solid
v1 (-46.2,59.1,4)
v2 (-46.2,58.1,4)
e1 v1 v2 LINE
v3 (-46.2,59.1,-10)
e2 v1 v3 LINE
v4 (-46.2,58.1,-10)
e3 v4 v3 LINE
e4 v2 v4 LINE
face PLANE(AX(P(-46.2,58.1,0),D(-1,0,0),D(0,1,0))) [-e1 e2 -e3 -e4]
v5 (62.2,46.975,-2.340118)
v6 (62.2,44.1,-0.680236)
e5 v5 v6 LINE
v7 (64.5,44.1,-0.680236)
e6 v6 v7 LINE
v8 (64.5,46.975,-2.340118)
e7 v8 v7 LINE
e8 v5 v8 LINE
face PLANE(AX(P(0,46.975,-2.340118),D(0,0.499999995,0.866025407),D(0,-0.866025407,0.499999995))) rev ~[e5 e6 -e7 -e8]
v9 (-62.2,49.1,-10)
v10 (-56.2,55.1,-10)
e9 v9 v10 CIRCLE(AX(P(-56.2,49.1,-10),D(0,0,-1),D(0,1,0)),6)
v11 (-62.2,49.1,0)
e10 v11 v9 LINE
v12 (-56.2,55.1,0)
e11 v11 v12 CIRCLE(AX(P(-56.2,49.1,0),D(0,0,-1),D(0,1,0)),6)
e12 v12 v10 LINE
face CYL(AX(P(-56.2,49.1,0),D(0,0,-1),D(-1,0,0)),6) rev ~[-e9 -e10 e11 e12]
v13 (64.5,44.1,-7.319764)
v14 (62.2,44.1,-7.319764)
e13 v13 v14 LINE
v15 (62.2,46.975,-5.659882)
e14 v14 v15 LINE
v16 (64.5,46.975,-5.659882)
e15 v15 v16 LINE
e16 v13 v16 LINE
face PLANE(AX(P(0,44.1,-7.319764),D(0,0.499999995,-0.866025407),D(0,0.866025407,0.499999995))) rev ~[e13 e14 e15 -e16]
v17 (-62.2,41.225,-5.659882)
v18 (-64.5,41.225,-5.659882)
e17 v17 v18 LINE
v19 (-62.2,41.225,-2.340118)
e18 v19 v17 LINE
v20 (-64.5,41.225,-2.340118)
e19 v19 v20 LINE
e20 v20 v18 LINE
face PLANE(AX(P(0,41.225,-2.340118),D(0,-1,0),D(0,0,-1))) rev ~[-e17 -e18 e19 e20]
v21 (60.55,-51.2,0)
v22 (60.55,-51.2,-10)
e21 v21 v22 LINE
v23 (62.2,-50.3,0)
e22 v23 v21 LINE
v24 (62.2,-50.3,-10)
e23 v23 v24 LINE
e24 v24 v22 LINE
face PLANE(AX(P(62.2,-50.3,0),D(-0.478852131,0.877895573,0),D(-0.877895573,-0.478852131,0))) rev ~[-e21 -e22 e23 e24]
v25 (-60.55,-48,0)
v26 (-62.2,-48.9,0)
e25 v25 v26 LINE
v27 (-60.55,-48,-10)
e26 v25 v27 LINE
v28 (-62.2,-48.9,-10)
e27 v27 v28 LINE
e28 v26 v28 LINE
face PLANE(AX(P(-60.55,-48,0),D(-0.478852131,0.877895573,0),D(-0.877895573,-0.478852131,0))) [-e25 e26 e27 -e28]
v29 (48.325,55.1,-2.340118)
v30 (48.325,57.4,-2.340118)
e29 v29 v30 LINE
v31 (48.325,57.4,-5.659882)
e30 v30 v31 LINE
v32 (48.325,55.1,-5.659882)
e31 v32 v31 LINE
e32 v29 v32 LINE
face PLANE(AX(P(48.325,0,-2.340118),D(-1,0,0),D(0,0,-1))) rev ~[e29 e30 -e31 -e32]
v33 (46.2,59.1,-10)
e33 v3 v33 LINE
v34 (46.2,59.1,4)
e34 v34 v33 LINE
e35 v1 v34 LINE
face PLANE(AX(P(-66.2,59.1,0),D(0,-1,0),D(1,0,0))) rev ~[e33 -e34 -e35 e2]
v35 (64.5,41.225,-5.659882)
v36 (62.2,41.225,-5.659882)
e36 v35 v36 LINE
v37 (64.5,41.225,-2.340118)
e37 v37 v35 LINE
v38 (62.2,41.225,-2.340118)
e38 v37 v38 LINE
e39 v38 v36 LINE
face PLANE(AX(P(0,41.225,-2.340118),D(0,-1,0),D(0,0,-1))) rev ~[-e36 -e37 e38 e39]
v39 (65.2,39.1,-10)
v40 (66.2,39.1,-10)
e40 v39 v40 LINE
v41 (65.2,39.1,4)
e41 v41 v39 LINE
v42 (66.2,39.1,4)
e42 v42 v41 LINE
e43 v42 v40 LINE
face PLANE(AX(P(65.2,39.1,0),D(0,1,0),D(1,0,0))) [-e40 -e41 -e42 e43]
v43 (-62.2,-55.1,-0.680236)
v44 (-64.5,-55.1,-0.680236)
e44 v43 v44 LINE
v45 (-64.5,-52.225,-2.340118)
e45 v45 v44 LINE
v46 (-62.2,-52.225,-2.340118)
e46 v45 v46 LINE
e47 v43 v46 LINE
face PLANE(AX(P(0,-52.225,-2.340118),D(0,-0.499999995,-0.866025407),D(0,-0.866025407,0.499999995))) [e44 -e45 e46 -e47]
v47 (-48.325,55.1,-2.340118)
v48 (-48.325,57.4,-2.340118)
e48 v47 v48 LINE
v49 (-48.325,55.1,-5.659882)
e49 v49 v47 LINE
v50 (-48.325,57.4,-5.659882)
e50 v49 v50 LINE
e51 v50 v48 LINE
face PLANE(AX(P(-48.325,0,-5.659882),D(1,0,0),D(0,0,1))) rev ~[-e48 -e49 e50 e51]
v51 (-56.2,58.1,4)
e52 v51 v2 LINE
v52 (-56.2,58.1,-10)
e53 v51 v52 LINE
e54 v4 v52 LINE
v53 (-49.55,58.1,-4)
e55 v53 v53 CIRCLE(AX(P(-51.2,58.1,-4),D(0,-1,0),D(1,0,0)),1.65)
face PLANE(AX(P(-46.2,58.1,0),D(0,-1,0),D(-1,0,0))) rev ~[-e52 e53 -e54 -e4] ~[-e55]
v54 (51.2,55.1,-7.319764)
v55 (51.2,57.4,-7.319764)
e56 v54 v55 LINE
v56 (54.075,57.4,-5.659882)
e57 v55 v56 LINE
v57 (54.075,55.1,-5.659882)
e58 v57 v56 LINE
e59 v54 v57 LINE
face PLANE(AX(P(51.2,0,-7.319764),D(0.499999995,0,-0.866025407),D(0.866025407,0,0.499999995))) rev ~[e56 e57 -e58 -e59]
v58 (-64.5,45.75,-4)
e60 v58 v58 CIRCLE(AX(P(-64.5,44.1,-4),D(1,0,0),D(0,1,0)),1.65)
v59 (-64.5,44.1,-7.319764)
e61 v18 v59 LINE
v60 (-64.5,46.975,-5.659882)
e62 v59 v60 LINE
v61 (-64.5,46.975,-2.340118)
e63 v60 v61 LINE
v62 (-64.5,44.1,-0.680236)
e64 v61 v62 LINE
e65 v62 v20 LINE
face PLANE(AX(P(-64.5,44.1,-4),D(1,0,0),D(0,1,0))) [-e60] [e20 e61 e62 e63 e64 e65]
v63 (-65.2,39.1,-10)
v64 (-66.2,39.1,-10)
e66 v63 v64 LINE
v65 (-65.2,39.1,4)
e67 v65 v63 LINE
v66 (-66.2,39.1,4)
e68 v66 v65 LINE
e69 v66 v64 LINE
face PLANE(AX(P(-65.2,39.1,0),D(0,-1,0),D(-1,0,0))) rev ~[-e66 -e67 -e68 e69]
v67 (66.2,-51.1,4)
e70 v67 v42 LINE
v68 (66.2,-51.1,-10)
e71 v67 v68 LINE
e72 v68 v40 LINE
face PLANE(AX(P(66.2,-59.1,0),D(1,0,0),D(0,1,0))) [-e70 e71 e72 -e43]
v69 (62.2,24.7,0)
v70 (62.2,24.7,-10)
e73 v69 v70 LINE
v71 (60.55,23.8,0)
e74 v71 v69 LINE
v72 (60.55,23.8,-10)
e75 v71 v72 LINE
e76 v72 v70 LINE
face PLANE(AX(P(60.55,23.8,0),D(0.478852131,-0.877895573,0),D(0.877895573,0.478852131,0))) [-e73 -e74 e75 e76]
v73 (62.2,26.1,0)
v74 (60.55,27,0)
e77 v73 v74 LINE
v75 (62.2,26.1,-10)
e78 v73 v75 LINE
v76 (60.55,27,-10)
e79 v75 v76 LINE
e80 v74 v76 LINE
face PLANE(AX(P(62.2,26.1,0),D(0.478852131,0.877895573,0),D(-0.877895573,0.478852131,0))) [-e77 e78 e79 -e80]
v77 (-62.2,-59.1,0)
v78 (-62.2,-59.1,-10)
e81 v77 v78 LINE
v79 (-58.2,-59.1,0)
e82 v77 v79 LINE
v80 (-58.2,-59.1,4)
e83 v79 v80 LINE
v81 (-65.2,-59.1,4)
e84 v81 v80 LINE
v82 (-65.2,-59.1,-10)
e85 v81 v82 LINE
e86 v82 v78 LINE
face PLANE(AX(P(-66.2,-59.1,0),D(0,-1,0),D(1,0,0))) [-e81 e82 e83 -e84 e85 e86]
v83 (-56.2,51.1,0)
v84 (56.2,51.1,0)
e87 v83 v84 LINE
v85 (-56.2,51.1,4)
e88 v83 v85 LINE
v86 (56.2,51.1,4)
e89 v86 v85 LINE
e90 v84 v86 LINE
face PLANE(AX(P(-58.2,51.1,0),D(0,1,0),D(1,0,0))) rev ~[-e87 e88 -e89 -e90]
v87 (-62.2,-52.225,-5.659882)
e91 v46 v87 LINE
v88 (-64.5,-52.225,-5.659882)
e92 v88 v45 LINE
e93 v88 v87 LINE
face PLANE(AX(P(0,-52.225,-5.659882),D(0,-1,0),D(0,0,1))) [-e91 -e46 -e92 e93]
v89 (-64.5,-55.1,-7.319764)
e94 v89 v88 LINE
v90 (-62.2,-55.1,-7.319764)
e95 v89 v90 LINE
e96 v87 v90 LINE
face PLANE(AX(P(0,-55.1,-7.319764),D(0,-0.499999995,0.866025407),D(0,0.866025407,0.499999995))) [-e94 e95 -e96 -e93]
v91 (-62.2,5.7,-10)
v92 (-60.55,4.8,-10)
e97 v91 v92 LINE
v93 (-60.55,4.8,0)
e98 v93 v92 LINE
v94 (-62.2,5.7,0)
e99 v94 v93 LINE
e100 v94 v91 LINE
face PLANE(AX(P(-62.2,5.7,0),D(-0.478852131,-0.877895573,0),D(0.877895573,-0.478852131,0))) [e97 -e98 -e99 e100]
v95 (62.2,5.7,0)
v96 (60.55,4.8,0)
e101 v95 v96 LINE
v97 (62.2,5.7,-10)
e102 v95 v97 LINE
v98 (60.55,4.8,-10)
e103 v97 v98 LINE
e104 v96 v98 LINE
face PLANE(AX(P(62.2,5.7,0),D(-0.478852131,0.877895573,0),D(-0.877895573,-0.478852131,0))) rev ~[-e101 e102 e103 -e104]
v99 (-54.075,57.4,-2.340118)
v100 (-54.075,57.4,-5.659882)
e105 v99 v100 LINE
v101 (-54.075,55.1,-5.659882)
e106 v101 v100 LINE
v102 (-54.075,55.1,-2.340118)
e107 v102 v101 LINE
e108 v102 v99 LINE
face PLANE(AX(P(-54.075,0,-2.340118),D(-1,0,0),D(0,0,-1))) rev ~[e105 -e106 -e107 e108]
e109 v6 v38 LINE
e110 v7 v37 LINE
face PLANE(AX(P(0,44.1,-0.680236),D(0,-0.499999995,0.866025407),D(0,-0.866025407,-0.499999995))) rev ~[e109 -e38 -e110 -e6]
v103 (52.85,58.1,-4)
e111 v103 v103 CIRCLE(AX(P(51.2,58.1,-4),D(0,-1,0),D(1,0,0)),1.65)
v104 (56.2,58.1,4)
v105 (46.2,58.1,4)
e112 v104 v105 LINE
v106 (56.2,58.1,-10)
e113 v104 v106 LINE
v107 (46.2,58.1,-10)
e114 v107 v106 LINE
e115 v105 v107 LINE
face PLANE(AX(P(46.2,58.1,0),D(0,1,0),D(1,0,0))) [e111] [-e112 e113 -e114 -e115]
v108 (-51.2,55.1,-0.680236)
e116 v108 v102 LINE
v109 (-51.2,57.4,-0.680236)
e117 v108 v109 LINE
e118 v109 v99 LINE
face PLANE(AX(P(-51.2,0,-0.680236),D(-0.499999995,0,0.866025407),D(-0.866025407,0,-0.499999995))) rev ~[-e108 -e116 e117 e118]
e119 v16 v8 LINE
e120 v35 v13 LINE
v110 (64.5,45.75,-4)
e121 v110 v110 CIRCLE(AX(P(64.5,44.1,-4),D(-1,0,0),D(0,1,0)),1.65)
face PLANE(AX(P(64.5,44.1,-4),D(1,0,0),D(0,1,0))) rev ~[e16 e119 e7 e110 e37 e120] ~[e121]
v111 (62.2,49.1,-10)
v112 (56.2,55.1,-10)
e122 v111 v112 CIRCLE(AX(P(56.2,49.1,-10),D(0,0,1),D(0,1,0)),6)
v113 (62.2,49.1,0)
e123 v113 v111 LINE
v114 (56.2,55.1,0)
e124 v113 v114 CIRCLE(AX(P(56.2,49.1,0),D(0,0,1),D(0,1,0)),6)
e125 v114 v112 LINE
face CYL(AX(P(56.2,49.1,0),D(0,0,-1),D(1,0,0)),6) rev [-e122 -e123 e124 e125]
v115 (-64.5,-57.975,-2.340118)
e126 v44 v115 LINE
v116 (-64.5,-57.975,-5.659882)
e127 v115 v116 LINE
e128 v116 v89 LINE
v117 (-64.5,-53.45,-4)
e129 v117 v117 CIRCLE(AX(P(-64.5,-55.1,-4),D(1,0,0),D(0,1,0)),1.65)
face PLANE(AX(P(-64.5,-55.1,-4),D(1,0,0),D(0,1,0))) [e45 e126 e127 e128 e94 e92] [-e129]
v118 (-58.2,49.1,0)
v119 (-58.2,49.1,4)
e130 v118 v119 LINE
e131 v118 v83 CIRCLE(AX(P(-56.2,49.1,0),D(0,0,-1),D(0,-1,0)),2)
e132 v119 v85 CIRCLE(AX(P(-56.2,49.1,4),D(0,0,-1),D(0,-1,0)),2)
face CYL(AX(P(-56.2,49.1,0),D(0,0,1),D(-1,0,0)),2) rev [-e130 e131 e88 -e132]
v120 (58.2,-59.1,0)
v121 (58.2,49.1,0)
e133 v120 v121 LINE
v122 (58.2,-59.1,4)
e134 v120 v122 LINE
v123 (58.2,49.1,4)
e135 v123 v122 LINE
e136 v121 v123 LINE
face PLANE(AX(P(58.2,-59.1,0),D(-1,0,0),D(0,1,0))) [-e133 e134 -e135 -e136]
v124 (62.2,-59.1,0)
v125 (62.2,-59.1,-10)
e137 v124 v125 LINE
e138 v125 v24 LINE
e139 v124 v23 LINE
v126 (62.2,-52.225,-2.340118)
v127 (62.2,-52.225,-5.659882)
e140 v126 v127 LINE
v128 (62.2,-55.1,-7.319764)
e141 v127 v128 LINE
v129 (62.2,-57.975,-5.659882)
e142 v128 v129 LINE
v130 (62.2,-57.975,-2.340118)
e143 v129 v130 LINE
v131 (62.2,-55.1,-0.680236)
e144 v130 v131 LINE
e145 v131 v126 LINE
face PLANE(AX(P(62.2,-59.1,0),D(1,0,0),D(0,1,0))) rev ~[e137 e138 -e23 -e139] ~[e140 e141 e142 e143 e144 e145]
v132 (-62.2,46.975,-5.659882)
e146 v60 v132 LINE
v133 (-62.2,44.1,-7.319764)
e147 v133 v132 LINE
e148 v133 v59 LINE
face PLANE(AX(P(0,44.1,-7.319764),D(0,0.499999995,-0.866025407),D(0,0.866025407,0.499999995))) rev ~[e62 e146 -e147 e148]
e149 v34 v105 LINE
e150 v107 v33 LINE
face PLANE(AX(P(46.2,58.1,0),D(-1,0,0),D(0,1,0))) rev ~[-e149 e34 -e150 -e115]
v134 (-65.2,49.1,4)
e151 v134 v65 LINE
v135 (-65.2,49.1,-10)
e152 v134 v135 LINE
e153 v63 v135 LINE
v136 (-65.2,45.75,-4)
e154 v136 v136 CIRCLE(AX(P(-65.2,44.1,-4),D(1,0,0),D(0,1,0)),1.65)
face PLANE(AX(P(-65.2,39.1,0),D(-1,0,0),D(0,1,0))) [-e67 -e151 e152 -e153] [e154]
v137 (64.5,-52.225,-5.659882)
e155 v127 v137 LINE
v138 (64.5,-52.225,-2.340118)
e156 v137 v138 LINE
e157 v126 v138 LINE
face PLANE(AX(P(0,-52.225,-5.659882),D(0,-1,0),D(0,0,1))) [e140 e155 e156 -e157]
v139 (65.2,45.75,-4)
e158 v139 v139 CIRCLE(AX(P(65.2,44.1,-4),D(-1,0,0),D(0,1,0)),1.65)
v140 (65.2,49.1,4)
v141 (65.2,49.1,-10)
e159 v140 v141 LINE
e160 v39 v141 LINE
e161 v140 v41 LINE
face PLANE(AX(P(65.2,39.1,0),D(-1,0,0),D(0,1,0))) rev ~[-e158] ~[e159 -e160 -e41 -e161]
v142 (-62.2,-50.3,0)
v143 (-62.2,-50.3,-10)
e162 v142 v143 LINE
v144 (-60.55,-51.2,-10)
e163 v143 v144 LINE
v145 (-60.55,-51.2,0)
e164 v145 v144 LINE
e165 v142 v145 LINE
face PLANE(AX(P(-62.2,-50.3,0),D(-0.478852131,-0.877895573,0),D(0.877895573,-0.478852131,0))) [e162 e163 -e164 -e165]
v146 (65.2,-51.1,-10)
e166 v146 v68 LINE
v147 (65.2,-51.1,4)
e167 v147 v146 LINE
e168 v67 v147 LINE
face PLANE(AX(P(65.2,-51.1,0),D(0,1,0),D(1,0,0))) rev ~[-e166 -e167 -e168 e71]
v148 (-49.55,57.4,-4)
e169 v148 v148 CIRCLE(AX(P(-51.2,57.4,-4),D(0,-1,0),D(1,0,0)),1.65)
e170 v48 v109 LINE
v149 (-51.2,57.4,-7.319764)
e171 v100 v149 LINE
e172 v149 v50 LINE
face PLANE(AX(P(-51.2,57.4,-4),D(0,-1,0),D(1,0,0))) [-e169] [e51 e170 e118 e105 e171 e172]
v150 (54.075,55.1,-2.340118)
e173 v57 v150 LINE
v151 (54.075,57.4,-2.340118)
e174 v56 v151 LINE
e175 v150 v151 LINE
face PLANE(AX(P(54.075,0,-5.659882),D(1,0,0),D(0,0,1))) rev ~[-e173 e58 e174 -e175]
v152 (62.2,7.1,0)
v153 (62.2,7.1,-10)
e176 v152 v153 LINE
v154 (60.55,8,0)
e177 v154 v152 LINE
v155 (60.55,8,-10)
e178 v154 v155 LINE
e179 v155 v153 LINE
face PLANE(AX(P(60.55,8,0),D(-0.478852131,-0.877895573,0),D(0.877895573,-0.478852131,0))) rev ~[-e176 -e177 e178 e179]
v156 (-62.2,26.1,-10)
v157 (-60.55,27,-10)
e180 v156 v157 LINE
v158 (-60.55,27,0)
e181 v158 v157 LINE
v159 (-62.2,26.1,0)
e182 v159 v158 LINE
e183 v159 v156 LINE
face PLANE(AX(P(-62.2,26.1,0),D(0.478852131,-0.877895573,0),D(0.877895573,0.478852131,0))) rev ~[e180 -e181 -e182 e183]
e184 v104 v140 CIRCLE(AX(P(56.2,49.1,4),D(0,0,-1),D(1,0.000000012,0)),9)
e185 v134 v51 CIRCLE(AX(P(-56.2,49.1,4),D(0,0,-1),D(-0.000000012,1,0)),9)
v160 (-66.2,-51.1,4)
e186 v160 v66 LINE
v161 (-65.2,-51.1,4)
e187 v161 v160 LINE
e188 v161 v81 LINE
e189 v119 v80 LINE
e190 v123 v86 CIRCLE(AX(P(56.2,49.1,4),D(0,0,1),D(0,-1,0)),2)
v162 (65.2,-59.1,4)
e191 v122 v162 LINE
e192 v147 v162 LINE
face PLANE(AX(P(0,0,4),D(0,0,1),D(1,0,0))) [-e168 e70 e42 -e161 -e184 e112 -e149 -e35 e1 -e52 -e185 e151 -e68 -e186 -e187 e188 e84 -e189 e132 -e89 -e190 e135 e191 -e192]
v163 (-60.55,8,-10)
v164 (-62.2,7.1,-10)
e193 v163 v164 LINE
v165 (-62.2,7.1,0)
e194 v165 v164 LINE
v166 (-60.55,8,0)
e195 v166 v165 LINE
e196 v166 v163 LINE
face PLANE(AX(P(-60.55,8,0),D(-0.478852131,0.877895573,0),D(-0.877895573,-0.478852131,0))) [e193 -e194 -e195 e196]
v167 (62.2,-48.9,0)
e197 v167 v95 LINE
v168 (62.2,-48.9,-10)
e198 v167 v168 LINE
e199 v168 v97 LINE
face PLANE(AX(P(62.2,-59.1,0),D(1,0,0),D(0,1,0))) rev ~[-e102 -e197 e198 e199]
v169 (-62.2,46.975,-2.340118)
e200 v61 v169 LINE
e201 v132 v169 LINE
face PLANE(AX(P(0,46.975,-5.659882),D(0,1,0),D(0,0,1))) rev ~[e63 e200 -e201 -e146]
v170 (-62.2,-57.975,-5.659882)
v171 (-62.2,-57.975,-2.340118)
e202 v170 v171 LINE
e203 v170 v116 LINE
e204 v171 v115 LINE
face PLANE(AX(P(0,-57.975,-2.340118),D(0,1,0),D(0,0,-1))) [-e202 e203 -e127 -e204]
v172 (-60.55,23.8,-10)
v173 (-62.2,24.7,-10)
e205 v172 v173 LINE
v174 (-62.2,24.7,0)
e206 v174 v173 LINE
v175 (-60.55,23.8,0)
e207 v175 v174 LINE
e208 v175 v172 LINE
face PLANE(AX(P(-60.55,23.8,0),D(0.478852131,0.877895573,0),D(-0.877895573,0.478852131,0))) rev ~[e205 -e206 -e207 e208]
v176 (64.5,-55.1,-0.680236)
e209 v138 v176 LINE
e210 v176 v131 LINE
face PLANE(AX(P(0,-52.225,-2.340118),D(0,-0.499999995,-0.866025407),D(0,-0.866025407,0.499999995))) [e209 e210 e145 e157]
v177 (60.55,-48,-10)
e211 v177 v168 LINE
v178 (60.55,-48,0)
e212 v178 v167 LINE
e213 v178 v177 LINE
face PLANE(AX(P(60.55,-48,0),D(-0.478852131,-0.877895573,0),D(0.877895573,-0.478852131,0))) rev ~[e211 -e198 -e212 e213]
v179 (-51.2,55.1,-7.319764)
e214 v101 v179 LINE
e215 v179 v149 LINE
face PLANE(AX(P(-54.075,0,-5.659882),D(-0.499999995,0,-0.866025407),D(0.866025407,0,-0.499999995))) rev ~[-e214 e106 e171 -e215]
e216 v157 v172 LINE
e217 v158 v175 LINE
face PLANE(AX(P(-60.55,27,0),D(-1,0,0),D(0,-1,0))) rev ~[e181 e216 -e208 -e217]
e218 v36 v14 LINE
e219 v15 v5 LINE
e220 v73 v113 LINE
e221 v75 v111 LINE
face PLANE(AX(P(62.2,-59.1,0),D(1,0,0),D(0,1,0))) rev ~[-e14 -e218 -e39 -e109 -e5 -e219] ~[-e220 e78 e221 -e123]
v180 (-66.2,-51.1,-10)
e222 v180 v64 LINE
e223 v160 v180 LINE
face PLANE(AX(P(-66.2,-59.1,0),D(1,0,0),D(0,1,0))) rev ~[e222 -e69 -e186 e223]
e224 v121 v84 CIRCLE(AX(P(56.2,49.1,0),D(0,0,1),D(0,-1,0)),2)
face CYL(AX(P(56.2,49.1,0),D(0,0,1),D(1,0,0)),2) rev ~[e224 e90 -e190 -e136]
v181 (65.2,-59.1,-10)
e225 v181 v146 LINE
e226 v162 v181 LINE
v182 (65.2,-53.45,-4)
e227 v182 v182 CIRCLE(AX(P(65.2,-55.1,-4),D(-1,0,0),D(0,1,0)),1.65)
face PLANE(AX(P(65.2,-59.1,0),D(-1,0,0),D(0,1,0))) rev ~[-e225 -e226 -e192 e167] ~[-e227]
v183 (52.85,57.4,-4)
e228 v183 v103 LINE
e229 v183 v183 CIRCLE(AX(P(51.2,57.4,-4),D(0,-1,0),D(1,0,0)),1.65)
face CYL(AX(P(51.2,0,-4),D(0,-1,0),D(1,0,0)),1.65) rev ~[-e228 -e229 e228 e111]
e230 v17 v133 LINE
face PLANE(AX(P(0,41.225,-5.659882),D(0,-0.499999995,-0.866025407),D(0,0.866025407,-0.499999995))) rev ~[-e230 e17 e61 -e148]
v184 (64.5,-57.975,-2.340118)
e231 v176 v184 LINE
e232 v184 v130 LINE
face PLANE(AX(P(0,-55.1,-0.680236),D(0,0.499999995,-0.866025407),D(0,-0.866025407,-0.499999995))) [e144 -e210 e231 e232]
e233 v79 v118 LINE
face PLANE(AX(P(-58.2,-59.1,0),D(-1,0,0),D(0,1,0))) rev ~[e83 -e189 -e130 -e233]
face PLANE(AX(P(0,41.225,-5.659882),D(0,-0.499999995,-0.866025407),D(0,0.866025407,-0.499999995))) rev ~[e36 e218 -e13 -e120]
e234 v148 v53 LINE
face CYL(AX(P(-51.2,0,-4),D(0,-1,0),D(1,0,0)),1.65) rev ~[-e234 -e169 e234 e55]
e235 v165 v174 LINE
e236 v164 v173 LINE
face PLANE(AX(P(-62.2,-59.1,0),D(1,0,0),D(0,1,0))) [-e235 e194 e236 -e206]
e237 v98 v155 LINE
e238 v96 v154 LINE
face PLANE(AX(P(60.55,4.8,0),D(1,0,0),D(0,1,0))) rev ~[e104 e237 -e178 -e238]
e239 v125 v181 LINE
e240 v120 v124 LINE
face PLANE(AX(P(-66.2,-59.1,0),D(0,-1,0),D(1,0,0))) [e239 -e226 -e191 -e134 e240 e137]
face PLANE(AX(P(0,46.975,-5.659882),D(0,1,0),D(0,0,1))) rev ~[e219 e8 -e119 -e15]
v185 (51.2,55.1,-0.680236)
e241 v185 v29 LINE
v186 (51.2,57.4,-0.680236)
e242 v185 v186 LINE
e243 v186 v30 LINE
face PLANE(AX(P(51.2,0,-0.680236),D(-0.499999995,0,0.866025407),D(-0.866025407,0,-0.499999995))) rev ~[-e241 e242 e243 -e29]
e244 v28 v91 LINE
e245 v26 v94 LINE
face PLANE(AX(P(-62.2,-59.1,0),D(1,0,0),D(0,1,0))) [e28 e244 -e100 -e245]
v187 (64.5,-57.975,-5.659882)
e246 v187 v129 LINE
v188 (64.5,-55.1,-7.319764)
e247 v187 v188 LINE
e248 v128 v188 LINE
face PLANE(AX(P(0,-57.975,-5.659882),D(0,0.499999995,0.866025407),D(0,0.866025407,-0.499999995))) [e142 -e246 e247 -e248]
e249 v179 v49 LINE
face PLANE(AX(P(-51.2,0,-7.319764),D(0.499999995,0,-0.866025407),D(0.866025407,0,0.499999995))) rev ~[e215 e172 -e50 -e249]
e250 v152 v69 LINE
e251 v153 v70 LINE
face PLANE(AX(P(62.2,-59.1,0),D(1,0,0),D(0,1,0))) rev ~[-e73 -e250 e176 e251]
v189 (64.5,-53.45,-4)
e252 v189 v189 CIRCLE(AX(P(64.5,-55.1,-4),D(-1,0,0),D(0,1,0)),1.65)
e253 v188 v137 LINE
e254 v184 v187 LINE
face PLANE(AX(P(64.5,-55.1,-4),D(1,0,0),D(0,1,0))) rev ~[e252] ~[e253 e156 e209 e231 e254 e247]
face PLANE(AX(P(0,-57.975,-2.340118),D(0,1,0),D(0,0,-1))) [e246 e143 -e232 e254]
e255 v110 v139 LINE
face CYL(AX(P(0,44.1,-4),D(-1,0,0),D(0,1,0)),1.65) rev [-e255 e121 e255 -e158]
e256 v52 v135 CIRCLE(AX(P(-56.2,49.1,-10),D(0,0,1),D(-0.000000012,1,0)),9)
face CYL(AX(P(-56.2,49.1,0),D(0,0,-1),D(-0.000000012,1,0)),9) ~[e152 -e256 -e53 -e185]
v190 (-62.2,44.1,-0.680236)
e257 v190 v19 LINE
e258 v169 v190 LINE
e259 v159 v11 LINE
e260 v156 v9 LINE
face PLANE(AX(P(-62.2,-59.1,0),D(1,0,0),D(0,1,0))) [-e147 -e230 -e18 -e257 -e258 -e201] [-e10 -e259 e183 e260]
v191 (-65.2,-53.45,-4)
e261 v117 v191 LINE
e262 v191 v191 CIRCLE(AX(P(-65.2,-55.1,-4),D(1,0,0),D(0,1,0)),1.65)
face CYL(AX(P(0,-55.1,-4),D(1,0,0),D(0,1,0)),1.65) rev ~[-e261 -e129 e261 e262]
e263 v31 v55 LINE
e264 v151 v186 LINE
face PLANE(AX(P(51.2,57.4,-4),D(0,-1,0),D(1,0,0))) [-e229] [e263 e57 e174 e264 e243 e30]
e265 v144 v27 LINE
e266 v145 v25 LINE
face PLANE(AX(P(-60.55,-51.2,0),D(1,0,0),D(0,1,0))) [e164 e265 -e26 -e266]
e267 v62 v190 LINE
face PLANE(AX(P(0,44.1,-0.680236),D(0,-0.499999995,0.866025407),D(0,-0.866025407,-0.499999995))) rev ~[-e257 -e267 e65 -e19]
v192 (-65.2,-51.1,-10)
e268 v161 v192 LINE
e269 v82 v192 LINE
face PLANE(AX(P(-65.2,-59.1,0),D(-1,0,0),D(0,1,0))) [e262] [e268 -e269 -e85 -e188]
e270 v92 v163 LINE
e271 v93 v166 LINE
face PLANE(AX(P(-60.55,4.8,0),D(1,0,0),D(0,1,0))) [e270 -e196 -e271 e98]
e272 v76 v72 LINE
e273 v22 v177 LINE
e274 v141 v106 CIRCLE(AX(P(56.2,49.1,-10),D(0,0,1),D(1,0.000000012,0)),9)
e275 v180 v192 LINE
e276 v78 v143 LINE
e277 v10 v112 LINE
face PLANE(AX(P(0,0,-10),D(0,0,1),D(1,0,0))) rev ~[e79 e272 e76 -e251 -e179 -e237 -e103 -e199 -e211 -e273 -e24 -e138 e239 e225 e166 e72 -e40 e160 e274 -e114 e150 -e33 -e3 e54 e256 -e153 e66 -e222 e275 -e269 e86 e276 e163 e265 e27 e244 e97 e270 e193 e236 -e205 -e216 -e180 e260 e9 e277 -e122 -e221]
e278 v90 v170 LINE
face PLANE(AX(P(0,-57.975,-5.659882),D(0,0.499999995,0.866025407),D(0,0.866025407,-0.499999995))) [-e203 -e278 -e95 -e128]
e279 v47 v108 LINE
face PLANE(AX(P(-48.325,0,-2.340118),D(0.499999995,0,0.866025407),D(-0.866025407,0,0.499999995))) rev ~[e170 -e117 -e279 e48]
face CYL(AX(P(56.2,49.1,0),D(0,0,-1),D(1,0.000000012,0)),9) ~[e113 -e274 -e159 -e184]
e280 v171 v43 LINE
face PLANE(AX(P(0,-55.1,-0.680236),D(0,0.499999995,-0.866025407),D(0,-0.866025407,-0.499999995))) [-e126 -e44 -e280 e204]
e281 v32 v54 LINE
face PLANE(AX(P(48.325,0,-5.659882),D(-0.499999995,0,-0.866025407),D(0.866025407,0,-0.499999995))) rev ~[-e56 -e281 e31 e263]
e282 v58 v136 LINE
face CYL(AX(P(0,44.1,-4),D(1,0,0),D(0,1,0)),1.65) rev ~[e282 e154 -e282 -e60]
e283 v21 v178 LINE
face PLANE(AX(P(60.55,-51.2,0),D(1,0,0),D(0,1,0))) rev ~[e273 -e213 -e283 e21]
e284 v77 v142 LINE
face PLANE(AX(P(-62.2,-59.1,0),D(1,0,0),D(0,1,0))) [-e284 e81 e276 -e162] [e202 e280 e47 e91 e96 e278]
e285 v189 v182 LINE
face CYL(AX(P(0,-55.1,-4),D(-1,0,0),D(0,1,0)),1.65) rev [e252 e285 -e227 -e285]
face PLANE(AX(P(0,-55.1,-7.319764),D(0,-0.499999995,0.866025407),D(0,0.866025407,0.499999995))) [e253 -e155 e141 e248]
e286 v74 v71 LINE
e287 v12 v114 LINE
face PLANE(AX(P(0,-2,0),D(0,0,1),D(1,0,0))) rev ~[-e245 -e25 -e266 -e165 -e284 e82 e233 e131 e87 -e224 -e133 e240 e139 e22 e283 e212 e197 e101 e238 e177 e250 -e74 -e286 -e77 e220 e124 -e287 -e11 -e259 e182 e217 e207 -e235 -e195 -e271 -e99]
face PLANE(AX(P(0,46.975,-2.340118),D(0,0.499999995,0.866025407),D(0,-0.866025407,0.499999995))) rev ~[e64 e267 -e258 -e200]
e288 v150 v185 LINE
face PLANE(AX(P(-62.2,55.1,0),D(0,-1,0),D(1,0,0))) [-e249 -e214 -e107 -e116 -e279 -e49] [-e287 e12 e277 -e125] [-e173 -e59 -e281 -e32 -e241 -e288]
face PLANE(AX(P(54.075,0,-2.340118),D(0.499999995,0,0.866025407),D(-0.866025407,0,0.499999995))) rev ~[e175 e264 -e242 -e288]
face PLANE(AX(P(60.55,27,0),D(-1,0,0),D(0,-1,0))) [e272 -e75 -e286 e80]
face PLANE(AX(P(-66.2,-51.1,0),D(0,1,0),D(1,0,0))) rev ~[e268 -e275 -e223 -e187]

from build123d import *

# Parameters (mm, degrees)
SKETCH_W             = 132.4
SKETCH_H             = 118.2
PAD_DEPTH            = 4
PAD_DEPTH_BACK       = 10
SKETCH001_W          = 124.4
SKETCH001_H          = 114.2
POCKET_DEPTH         = 10.001
SKETCH002_W          = 116.4
SKETCH002_H          = 110.2
POCKET001_DEPTH      = 5
FILLET_R             = 6
FILLET001_R          = 10
FILLET002_R          = 2
POCKET002_DEPTH      = 10.001
POCKET002_DEPTH_BACK = 4.001
PAD001_DEPTH         = 10
SKETCH005_W          = 1
SKETCH005_H          = 8
POCKET003_DEPTH      = 10.001
POCKET003_DEPTH_BACK = 4.001
SKETCH006_R          = 1.65
POCKET004_DEPTH      = 66.201
POCKET004_DEPTH_BACK = 66.201
POCKET005_DEPTH      = 64.5
SKETCH008_R          = 1.65
POCKET006_DEPTH      = 59.101
POCKET006_DEPTH_BACK = 59.101
POCKET007_DEPTH      = 57.4


with BuildPart() as part:
    # Sketch → Pad (new body, two sides)
    with BuildSketch(Plane.XY) as pad_sk:
        Rectangle(SKETCH_W, SKETCH_H)
    extrude(amount=PAD_DEPTH)
    extrude(pad_sk.sketch, amount=-PAD_DEPTH_BACK)

    # Sketch001 → Pocket (cut, through all)
    with BuildSketch(Plane.XY):
        with Locations((0, -2)):
            Rectangle(SKETCH001_W, SKETCH001_H)
    extrude(amount=-POCKET_DEPTH, mode=Mode.SUBTRACT)

    # Sketch002 → Pocket001 (cut)
    with BuildSketch(Plane.XY):
        with Locations((0, -4)):
            Rectangle(SKETCH002_W, SKETCH002_H)
    extrude(amount=POCKET001_DEPTH, mode=Mode.SUBTRACT)

    # Fillet
    fillet_edges = [part.edges().sort_by_distance(p)[0] for p in [
        (-62.2, 55.1, -5),
        (62.2, 55.1, -5),
    ]]
    fillet(fillet_edges, radius=FILLET_R)

    # Fillet001
    fillet001_edges = [part.edges().sort_by_distance(p)[0] for p in [
        (-66.2, 59.1, -3),
        (66.2, 59.1, -3),
    ]]
    fillet(fillet001_edges, radius=FILLET001_R)

    # Fillet002
    fillet002_edges = [part.edges().sort_by_distance(p)[0] for p in [
        (-58.2, 51.1, 2),
        (58.2, 51.1, 2),
    ]]
    fillet(fillet002_edges, radius=FILLET002_R)

    # Sketch003 → Pocket002 (cut, two sides)
    with BuildSketch(Plane.XY) as pocket002_sk:
        with BuildLine():
            Line((-65.2, 39.1), (-65.2, 49.1))
            ThreePointArc((-56.2, 58.1), (-62.563961, 55.463961), (-65.2, 49.1))
            Line((-46.2, 58.1), (-56.2, 58.1))
            Line((-46.2, 58.1), (-46.2, 59.1))
            Line((-46.2, 59.1), (-56.2, 59.1))
            ThreePointArc((-56.2, 59.1), (-63.271068, 56.171068), (-66.2, 49.1))
            Line((-66.2, 39.1), (-66.2, 49.1))
            Line((-65.2, 39.1), (-66.2, 39.1))
        make_face()
        with BuildLine():
            Line((65.2, 39.1), (65.2, 49.1))
            ThreePointArc((65.2, 49.1), (62.563961, 55.463961), (56.2, 58.1))
            Line((46.2, 58.1), (56.2, 58.1))
            Line((46.2, 58.1), (46.2, 59.1))
            Line((46.2, 59.1), (56.2, 59.1))
            ThreePointArc((66.2, 49.1), (63.271068, 56.171068), (56.2, 59.1))
            Line((66.2, 39.1), (66.2, 49.1))
            Line((65.2, 39.1), (66.2, 39.1))
        make_face()
    extrude(amount=-POCKET002_DEPTH, mode=Mode.SUBTRACT)
    extrude(pocket002_sk.sketch, amount=POCKET002_DEPTH_BACK, mode=Mode.SUBTRACT)

    # Sketch004 → Pad001 (join)
    with BuildSketch(Plane.XY):
        Polygon((-62.2, 24.7), (-62.2, 26.1), (-60.55, 27), (-60.55, 23.8), align=None)
        Polygon((-62.2, 5.7), (-60.55, 4.8), (-60.55, 8), (-62.2, 7.1), align=None)
        Polygon((-62.2, -50.3), (-60.55, -51.2), (-60.55, -48), (-62.2, -48.9), align=None)
        Polygon((62.2, 24.7), (62.2, 26.1), (60.55, 27), (60.55, 23.8), align=None)
        Polygon((62.2, 5.7), (60.55, 4.8), (60.55, 8), (62.2, 7.1), align=None)
        Polygon((62.2, -50.3), (60.55, -51.2), (60.55, -48), (62.2, -48.9), align=None)
    extrude(amount=-PAD001_DEPTH)

    # Sketch005 → Pocket003 (cut, two sides)
    with BuildSketch(Plane.XY) as pocket003_sk:
        with Locations((-65.7, -55.1)):
            Rectangle(SKETCH005_W, SKETCH005_H)
        with Locations((65.7, -55.1)):
            Rectangle(SKETCH005_W, SKETCH005_H)
    extrude(amount=-POCKET003_DEPTH, mode=Mode.SUBTRACT)
    extrude(pocket003_sk.sketch, amount=POCKET003_DEPTH_BACK, mode=Mode.SUBTRACT)

    # Sketch006 → Pocket004 (cut, two sides)
    with BuildSketch(Plane.YZ) as pocket004_sk:
        with Locations((-55.1, -4)):
            Circle(SKETCH006_R)
        with Locations((44.1, -4)):
            Circle(SKETCH006_R)
    extrude(amount=-POCKET004_DEPTH, mode=Mode.SUBTRACT)
    extrude(pocket004_sk.sketch, amount=POCKET004_DEPTH_BACK, mode=Mode.SUBTRACT)

    # Sketch007 → Pocket005 (cut, symmetric)
    with BuildSketch(Plane.YZ):
        Polygon((-57.975, -5.659882), (-55.1, -7.319764), (-52.225, -5.659882), (-52.225, -2.340118), (-55.1, -0.680236), (-57.975, -2.340118), align=None)
        Polygon((44.1, -7.319764), (46.975, -5.659882), (46.975, -2.340118), (44.1, -0.680236), (41.225, -2.340118), (41.225, -5.659882), align=None)
    extrude(amount=POCKET005_DEPTH, both=True, mode=Mode.SUBTRACT)

    # Sketch008 → Pocket006 (cut, two sides)
    with BuildSketch(Plane.XZ) as pocket006_sk:
        with Locations((-51.2, -4)):
            Circle(SKETCH008_R)
        with Locations((51.2, -4)):
            Circle(SKETCH008_R)
    extrude(amount=-POCKET006_DEPTH, mode=Mode.SUBTRACT)
    extrude(pocket006_sk.sketch, amount=POCKET006_DEPTH_BACK, mode=Mode.SUBTRACT)

    # Sketch009 → Pocket007 (cut)
    with BuildSketch(Plane.XZ):
        Polygon((-51.2, -7.319764), (-48.325, -5.659882), (-48.325, -2.340118), (-51.2, -0.680236), (-54.075, -2.340118), (-54.075, -5.659882), align=None)
        Polygon((51.2, -7.319764), (54.075, -5.659882), (54.075, -2.340118), (51.2, -0.680236), (48.325, -2.340118), (48.325, -5.659882), align=None)
    extrude(amount=-POCKET007_DEPTH, mode=Mode.SUBTRACT)


solid = part.part
